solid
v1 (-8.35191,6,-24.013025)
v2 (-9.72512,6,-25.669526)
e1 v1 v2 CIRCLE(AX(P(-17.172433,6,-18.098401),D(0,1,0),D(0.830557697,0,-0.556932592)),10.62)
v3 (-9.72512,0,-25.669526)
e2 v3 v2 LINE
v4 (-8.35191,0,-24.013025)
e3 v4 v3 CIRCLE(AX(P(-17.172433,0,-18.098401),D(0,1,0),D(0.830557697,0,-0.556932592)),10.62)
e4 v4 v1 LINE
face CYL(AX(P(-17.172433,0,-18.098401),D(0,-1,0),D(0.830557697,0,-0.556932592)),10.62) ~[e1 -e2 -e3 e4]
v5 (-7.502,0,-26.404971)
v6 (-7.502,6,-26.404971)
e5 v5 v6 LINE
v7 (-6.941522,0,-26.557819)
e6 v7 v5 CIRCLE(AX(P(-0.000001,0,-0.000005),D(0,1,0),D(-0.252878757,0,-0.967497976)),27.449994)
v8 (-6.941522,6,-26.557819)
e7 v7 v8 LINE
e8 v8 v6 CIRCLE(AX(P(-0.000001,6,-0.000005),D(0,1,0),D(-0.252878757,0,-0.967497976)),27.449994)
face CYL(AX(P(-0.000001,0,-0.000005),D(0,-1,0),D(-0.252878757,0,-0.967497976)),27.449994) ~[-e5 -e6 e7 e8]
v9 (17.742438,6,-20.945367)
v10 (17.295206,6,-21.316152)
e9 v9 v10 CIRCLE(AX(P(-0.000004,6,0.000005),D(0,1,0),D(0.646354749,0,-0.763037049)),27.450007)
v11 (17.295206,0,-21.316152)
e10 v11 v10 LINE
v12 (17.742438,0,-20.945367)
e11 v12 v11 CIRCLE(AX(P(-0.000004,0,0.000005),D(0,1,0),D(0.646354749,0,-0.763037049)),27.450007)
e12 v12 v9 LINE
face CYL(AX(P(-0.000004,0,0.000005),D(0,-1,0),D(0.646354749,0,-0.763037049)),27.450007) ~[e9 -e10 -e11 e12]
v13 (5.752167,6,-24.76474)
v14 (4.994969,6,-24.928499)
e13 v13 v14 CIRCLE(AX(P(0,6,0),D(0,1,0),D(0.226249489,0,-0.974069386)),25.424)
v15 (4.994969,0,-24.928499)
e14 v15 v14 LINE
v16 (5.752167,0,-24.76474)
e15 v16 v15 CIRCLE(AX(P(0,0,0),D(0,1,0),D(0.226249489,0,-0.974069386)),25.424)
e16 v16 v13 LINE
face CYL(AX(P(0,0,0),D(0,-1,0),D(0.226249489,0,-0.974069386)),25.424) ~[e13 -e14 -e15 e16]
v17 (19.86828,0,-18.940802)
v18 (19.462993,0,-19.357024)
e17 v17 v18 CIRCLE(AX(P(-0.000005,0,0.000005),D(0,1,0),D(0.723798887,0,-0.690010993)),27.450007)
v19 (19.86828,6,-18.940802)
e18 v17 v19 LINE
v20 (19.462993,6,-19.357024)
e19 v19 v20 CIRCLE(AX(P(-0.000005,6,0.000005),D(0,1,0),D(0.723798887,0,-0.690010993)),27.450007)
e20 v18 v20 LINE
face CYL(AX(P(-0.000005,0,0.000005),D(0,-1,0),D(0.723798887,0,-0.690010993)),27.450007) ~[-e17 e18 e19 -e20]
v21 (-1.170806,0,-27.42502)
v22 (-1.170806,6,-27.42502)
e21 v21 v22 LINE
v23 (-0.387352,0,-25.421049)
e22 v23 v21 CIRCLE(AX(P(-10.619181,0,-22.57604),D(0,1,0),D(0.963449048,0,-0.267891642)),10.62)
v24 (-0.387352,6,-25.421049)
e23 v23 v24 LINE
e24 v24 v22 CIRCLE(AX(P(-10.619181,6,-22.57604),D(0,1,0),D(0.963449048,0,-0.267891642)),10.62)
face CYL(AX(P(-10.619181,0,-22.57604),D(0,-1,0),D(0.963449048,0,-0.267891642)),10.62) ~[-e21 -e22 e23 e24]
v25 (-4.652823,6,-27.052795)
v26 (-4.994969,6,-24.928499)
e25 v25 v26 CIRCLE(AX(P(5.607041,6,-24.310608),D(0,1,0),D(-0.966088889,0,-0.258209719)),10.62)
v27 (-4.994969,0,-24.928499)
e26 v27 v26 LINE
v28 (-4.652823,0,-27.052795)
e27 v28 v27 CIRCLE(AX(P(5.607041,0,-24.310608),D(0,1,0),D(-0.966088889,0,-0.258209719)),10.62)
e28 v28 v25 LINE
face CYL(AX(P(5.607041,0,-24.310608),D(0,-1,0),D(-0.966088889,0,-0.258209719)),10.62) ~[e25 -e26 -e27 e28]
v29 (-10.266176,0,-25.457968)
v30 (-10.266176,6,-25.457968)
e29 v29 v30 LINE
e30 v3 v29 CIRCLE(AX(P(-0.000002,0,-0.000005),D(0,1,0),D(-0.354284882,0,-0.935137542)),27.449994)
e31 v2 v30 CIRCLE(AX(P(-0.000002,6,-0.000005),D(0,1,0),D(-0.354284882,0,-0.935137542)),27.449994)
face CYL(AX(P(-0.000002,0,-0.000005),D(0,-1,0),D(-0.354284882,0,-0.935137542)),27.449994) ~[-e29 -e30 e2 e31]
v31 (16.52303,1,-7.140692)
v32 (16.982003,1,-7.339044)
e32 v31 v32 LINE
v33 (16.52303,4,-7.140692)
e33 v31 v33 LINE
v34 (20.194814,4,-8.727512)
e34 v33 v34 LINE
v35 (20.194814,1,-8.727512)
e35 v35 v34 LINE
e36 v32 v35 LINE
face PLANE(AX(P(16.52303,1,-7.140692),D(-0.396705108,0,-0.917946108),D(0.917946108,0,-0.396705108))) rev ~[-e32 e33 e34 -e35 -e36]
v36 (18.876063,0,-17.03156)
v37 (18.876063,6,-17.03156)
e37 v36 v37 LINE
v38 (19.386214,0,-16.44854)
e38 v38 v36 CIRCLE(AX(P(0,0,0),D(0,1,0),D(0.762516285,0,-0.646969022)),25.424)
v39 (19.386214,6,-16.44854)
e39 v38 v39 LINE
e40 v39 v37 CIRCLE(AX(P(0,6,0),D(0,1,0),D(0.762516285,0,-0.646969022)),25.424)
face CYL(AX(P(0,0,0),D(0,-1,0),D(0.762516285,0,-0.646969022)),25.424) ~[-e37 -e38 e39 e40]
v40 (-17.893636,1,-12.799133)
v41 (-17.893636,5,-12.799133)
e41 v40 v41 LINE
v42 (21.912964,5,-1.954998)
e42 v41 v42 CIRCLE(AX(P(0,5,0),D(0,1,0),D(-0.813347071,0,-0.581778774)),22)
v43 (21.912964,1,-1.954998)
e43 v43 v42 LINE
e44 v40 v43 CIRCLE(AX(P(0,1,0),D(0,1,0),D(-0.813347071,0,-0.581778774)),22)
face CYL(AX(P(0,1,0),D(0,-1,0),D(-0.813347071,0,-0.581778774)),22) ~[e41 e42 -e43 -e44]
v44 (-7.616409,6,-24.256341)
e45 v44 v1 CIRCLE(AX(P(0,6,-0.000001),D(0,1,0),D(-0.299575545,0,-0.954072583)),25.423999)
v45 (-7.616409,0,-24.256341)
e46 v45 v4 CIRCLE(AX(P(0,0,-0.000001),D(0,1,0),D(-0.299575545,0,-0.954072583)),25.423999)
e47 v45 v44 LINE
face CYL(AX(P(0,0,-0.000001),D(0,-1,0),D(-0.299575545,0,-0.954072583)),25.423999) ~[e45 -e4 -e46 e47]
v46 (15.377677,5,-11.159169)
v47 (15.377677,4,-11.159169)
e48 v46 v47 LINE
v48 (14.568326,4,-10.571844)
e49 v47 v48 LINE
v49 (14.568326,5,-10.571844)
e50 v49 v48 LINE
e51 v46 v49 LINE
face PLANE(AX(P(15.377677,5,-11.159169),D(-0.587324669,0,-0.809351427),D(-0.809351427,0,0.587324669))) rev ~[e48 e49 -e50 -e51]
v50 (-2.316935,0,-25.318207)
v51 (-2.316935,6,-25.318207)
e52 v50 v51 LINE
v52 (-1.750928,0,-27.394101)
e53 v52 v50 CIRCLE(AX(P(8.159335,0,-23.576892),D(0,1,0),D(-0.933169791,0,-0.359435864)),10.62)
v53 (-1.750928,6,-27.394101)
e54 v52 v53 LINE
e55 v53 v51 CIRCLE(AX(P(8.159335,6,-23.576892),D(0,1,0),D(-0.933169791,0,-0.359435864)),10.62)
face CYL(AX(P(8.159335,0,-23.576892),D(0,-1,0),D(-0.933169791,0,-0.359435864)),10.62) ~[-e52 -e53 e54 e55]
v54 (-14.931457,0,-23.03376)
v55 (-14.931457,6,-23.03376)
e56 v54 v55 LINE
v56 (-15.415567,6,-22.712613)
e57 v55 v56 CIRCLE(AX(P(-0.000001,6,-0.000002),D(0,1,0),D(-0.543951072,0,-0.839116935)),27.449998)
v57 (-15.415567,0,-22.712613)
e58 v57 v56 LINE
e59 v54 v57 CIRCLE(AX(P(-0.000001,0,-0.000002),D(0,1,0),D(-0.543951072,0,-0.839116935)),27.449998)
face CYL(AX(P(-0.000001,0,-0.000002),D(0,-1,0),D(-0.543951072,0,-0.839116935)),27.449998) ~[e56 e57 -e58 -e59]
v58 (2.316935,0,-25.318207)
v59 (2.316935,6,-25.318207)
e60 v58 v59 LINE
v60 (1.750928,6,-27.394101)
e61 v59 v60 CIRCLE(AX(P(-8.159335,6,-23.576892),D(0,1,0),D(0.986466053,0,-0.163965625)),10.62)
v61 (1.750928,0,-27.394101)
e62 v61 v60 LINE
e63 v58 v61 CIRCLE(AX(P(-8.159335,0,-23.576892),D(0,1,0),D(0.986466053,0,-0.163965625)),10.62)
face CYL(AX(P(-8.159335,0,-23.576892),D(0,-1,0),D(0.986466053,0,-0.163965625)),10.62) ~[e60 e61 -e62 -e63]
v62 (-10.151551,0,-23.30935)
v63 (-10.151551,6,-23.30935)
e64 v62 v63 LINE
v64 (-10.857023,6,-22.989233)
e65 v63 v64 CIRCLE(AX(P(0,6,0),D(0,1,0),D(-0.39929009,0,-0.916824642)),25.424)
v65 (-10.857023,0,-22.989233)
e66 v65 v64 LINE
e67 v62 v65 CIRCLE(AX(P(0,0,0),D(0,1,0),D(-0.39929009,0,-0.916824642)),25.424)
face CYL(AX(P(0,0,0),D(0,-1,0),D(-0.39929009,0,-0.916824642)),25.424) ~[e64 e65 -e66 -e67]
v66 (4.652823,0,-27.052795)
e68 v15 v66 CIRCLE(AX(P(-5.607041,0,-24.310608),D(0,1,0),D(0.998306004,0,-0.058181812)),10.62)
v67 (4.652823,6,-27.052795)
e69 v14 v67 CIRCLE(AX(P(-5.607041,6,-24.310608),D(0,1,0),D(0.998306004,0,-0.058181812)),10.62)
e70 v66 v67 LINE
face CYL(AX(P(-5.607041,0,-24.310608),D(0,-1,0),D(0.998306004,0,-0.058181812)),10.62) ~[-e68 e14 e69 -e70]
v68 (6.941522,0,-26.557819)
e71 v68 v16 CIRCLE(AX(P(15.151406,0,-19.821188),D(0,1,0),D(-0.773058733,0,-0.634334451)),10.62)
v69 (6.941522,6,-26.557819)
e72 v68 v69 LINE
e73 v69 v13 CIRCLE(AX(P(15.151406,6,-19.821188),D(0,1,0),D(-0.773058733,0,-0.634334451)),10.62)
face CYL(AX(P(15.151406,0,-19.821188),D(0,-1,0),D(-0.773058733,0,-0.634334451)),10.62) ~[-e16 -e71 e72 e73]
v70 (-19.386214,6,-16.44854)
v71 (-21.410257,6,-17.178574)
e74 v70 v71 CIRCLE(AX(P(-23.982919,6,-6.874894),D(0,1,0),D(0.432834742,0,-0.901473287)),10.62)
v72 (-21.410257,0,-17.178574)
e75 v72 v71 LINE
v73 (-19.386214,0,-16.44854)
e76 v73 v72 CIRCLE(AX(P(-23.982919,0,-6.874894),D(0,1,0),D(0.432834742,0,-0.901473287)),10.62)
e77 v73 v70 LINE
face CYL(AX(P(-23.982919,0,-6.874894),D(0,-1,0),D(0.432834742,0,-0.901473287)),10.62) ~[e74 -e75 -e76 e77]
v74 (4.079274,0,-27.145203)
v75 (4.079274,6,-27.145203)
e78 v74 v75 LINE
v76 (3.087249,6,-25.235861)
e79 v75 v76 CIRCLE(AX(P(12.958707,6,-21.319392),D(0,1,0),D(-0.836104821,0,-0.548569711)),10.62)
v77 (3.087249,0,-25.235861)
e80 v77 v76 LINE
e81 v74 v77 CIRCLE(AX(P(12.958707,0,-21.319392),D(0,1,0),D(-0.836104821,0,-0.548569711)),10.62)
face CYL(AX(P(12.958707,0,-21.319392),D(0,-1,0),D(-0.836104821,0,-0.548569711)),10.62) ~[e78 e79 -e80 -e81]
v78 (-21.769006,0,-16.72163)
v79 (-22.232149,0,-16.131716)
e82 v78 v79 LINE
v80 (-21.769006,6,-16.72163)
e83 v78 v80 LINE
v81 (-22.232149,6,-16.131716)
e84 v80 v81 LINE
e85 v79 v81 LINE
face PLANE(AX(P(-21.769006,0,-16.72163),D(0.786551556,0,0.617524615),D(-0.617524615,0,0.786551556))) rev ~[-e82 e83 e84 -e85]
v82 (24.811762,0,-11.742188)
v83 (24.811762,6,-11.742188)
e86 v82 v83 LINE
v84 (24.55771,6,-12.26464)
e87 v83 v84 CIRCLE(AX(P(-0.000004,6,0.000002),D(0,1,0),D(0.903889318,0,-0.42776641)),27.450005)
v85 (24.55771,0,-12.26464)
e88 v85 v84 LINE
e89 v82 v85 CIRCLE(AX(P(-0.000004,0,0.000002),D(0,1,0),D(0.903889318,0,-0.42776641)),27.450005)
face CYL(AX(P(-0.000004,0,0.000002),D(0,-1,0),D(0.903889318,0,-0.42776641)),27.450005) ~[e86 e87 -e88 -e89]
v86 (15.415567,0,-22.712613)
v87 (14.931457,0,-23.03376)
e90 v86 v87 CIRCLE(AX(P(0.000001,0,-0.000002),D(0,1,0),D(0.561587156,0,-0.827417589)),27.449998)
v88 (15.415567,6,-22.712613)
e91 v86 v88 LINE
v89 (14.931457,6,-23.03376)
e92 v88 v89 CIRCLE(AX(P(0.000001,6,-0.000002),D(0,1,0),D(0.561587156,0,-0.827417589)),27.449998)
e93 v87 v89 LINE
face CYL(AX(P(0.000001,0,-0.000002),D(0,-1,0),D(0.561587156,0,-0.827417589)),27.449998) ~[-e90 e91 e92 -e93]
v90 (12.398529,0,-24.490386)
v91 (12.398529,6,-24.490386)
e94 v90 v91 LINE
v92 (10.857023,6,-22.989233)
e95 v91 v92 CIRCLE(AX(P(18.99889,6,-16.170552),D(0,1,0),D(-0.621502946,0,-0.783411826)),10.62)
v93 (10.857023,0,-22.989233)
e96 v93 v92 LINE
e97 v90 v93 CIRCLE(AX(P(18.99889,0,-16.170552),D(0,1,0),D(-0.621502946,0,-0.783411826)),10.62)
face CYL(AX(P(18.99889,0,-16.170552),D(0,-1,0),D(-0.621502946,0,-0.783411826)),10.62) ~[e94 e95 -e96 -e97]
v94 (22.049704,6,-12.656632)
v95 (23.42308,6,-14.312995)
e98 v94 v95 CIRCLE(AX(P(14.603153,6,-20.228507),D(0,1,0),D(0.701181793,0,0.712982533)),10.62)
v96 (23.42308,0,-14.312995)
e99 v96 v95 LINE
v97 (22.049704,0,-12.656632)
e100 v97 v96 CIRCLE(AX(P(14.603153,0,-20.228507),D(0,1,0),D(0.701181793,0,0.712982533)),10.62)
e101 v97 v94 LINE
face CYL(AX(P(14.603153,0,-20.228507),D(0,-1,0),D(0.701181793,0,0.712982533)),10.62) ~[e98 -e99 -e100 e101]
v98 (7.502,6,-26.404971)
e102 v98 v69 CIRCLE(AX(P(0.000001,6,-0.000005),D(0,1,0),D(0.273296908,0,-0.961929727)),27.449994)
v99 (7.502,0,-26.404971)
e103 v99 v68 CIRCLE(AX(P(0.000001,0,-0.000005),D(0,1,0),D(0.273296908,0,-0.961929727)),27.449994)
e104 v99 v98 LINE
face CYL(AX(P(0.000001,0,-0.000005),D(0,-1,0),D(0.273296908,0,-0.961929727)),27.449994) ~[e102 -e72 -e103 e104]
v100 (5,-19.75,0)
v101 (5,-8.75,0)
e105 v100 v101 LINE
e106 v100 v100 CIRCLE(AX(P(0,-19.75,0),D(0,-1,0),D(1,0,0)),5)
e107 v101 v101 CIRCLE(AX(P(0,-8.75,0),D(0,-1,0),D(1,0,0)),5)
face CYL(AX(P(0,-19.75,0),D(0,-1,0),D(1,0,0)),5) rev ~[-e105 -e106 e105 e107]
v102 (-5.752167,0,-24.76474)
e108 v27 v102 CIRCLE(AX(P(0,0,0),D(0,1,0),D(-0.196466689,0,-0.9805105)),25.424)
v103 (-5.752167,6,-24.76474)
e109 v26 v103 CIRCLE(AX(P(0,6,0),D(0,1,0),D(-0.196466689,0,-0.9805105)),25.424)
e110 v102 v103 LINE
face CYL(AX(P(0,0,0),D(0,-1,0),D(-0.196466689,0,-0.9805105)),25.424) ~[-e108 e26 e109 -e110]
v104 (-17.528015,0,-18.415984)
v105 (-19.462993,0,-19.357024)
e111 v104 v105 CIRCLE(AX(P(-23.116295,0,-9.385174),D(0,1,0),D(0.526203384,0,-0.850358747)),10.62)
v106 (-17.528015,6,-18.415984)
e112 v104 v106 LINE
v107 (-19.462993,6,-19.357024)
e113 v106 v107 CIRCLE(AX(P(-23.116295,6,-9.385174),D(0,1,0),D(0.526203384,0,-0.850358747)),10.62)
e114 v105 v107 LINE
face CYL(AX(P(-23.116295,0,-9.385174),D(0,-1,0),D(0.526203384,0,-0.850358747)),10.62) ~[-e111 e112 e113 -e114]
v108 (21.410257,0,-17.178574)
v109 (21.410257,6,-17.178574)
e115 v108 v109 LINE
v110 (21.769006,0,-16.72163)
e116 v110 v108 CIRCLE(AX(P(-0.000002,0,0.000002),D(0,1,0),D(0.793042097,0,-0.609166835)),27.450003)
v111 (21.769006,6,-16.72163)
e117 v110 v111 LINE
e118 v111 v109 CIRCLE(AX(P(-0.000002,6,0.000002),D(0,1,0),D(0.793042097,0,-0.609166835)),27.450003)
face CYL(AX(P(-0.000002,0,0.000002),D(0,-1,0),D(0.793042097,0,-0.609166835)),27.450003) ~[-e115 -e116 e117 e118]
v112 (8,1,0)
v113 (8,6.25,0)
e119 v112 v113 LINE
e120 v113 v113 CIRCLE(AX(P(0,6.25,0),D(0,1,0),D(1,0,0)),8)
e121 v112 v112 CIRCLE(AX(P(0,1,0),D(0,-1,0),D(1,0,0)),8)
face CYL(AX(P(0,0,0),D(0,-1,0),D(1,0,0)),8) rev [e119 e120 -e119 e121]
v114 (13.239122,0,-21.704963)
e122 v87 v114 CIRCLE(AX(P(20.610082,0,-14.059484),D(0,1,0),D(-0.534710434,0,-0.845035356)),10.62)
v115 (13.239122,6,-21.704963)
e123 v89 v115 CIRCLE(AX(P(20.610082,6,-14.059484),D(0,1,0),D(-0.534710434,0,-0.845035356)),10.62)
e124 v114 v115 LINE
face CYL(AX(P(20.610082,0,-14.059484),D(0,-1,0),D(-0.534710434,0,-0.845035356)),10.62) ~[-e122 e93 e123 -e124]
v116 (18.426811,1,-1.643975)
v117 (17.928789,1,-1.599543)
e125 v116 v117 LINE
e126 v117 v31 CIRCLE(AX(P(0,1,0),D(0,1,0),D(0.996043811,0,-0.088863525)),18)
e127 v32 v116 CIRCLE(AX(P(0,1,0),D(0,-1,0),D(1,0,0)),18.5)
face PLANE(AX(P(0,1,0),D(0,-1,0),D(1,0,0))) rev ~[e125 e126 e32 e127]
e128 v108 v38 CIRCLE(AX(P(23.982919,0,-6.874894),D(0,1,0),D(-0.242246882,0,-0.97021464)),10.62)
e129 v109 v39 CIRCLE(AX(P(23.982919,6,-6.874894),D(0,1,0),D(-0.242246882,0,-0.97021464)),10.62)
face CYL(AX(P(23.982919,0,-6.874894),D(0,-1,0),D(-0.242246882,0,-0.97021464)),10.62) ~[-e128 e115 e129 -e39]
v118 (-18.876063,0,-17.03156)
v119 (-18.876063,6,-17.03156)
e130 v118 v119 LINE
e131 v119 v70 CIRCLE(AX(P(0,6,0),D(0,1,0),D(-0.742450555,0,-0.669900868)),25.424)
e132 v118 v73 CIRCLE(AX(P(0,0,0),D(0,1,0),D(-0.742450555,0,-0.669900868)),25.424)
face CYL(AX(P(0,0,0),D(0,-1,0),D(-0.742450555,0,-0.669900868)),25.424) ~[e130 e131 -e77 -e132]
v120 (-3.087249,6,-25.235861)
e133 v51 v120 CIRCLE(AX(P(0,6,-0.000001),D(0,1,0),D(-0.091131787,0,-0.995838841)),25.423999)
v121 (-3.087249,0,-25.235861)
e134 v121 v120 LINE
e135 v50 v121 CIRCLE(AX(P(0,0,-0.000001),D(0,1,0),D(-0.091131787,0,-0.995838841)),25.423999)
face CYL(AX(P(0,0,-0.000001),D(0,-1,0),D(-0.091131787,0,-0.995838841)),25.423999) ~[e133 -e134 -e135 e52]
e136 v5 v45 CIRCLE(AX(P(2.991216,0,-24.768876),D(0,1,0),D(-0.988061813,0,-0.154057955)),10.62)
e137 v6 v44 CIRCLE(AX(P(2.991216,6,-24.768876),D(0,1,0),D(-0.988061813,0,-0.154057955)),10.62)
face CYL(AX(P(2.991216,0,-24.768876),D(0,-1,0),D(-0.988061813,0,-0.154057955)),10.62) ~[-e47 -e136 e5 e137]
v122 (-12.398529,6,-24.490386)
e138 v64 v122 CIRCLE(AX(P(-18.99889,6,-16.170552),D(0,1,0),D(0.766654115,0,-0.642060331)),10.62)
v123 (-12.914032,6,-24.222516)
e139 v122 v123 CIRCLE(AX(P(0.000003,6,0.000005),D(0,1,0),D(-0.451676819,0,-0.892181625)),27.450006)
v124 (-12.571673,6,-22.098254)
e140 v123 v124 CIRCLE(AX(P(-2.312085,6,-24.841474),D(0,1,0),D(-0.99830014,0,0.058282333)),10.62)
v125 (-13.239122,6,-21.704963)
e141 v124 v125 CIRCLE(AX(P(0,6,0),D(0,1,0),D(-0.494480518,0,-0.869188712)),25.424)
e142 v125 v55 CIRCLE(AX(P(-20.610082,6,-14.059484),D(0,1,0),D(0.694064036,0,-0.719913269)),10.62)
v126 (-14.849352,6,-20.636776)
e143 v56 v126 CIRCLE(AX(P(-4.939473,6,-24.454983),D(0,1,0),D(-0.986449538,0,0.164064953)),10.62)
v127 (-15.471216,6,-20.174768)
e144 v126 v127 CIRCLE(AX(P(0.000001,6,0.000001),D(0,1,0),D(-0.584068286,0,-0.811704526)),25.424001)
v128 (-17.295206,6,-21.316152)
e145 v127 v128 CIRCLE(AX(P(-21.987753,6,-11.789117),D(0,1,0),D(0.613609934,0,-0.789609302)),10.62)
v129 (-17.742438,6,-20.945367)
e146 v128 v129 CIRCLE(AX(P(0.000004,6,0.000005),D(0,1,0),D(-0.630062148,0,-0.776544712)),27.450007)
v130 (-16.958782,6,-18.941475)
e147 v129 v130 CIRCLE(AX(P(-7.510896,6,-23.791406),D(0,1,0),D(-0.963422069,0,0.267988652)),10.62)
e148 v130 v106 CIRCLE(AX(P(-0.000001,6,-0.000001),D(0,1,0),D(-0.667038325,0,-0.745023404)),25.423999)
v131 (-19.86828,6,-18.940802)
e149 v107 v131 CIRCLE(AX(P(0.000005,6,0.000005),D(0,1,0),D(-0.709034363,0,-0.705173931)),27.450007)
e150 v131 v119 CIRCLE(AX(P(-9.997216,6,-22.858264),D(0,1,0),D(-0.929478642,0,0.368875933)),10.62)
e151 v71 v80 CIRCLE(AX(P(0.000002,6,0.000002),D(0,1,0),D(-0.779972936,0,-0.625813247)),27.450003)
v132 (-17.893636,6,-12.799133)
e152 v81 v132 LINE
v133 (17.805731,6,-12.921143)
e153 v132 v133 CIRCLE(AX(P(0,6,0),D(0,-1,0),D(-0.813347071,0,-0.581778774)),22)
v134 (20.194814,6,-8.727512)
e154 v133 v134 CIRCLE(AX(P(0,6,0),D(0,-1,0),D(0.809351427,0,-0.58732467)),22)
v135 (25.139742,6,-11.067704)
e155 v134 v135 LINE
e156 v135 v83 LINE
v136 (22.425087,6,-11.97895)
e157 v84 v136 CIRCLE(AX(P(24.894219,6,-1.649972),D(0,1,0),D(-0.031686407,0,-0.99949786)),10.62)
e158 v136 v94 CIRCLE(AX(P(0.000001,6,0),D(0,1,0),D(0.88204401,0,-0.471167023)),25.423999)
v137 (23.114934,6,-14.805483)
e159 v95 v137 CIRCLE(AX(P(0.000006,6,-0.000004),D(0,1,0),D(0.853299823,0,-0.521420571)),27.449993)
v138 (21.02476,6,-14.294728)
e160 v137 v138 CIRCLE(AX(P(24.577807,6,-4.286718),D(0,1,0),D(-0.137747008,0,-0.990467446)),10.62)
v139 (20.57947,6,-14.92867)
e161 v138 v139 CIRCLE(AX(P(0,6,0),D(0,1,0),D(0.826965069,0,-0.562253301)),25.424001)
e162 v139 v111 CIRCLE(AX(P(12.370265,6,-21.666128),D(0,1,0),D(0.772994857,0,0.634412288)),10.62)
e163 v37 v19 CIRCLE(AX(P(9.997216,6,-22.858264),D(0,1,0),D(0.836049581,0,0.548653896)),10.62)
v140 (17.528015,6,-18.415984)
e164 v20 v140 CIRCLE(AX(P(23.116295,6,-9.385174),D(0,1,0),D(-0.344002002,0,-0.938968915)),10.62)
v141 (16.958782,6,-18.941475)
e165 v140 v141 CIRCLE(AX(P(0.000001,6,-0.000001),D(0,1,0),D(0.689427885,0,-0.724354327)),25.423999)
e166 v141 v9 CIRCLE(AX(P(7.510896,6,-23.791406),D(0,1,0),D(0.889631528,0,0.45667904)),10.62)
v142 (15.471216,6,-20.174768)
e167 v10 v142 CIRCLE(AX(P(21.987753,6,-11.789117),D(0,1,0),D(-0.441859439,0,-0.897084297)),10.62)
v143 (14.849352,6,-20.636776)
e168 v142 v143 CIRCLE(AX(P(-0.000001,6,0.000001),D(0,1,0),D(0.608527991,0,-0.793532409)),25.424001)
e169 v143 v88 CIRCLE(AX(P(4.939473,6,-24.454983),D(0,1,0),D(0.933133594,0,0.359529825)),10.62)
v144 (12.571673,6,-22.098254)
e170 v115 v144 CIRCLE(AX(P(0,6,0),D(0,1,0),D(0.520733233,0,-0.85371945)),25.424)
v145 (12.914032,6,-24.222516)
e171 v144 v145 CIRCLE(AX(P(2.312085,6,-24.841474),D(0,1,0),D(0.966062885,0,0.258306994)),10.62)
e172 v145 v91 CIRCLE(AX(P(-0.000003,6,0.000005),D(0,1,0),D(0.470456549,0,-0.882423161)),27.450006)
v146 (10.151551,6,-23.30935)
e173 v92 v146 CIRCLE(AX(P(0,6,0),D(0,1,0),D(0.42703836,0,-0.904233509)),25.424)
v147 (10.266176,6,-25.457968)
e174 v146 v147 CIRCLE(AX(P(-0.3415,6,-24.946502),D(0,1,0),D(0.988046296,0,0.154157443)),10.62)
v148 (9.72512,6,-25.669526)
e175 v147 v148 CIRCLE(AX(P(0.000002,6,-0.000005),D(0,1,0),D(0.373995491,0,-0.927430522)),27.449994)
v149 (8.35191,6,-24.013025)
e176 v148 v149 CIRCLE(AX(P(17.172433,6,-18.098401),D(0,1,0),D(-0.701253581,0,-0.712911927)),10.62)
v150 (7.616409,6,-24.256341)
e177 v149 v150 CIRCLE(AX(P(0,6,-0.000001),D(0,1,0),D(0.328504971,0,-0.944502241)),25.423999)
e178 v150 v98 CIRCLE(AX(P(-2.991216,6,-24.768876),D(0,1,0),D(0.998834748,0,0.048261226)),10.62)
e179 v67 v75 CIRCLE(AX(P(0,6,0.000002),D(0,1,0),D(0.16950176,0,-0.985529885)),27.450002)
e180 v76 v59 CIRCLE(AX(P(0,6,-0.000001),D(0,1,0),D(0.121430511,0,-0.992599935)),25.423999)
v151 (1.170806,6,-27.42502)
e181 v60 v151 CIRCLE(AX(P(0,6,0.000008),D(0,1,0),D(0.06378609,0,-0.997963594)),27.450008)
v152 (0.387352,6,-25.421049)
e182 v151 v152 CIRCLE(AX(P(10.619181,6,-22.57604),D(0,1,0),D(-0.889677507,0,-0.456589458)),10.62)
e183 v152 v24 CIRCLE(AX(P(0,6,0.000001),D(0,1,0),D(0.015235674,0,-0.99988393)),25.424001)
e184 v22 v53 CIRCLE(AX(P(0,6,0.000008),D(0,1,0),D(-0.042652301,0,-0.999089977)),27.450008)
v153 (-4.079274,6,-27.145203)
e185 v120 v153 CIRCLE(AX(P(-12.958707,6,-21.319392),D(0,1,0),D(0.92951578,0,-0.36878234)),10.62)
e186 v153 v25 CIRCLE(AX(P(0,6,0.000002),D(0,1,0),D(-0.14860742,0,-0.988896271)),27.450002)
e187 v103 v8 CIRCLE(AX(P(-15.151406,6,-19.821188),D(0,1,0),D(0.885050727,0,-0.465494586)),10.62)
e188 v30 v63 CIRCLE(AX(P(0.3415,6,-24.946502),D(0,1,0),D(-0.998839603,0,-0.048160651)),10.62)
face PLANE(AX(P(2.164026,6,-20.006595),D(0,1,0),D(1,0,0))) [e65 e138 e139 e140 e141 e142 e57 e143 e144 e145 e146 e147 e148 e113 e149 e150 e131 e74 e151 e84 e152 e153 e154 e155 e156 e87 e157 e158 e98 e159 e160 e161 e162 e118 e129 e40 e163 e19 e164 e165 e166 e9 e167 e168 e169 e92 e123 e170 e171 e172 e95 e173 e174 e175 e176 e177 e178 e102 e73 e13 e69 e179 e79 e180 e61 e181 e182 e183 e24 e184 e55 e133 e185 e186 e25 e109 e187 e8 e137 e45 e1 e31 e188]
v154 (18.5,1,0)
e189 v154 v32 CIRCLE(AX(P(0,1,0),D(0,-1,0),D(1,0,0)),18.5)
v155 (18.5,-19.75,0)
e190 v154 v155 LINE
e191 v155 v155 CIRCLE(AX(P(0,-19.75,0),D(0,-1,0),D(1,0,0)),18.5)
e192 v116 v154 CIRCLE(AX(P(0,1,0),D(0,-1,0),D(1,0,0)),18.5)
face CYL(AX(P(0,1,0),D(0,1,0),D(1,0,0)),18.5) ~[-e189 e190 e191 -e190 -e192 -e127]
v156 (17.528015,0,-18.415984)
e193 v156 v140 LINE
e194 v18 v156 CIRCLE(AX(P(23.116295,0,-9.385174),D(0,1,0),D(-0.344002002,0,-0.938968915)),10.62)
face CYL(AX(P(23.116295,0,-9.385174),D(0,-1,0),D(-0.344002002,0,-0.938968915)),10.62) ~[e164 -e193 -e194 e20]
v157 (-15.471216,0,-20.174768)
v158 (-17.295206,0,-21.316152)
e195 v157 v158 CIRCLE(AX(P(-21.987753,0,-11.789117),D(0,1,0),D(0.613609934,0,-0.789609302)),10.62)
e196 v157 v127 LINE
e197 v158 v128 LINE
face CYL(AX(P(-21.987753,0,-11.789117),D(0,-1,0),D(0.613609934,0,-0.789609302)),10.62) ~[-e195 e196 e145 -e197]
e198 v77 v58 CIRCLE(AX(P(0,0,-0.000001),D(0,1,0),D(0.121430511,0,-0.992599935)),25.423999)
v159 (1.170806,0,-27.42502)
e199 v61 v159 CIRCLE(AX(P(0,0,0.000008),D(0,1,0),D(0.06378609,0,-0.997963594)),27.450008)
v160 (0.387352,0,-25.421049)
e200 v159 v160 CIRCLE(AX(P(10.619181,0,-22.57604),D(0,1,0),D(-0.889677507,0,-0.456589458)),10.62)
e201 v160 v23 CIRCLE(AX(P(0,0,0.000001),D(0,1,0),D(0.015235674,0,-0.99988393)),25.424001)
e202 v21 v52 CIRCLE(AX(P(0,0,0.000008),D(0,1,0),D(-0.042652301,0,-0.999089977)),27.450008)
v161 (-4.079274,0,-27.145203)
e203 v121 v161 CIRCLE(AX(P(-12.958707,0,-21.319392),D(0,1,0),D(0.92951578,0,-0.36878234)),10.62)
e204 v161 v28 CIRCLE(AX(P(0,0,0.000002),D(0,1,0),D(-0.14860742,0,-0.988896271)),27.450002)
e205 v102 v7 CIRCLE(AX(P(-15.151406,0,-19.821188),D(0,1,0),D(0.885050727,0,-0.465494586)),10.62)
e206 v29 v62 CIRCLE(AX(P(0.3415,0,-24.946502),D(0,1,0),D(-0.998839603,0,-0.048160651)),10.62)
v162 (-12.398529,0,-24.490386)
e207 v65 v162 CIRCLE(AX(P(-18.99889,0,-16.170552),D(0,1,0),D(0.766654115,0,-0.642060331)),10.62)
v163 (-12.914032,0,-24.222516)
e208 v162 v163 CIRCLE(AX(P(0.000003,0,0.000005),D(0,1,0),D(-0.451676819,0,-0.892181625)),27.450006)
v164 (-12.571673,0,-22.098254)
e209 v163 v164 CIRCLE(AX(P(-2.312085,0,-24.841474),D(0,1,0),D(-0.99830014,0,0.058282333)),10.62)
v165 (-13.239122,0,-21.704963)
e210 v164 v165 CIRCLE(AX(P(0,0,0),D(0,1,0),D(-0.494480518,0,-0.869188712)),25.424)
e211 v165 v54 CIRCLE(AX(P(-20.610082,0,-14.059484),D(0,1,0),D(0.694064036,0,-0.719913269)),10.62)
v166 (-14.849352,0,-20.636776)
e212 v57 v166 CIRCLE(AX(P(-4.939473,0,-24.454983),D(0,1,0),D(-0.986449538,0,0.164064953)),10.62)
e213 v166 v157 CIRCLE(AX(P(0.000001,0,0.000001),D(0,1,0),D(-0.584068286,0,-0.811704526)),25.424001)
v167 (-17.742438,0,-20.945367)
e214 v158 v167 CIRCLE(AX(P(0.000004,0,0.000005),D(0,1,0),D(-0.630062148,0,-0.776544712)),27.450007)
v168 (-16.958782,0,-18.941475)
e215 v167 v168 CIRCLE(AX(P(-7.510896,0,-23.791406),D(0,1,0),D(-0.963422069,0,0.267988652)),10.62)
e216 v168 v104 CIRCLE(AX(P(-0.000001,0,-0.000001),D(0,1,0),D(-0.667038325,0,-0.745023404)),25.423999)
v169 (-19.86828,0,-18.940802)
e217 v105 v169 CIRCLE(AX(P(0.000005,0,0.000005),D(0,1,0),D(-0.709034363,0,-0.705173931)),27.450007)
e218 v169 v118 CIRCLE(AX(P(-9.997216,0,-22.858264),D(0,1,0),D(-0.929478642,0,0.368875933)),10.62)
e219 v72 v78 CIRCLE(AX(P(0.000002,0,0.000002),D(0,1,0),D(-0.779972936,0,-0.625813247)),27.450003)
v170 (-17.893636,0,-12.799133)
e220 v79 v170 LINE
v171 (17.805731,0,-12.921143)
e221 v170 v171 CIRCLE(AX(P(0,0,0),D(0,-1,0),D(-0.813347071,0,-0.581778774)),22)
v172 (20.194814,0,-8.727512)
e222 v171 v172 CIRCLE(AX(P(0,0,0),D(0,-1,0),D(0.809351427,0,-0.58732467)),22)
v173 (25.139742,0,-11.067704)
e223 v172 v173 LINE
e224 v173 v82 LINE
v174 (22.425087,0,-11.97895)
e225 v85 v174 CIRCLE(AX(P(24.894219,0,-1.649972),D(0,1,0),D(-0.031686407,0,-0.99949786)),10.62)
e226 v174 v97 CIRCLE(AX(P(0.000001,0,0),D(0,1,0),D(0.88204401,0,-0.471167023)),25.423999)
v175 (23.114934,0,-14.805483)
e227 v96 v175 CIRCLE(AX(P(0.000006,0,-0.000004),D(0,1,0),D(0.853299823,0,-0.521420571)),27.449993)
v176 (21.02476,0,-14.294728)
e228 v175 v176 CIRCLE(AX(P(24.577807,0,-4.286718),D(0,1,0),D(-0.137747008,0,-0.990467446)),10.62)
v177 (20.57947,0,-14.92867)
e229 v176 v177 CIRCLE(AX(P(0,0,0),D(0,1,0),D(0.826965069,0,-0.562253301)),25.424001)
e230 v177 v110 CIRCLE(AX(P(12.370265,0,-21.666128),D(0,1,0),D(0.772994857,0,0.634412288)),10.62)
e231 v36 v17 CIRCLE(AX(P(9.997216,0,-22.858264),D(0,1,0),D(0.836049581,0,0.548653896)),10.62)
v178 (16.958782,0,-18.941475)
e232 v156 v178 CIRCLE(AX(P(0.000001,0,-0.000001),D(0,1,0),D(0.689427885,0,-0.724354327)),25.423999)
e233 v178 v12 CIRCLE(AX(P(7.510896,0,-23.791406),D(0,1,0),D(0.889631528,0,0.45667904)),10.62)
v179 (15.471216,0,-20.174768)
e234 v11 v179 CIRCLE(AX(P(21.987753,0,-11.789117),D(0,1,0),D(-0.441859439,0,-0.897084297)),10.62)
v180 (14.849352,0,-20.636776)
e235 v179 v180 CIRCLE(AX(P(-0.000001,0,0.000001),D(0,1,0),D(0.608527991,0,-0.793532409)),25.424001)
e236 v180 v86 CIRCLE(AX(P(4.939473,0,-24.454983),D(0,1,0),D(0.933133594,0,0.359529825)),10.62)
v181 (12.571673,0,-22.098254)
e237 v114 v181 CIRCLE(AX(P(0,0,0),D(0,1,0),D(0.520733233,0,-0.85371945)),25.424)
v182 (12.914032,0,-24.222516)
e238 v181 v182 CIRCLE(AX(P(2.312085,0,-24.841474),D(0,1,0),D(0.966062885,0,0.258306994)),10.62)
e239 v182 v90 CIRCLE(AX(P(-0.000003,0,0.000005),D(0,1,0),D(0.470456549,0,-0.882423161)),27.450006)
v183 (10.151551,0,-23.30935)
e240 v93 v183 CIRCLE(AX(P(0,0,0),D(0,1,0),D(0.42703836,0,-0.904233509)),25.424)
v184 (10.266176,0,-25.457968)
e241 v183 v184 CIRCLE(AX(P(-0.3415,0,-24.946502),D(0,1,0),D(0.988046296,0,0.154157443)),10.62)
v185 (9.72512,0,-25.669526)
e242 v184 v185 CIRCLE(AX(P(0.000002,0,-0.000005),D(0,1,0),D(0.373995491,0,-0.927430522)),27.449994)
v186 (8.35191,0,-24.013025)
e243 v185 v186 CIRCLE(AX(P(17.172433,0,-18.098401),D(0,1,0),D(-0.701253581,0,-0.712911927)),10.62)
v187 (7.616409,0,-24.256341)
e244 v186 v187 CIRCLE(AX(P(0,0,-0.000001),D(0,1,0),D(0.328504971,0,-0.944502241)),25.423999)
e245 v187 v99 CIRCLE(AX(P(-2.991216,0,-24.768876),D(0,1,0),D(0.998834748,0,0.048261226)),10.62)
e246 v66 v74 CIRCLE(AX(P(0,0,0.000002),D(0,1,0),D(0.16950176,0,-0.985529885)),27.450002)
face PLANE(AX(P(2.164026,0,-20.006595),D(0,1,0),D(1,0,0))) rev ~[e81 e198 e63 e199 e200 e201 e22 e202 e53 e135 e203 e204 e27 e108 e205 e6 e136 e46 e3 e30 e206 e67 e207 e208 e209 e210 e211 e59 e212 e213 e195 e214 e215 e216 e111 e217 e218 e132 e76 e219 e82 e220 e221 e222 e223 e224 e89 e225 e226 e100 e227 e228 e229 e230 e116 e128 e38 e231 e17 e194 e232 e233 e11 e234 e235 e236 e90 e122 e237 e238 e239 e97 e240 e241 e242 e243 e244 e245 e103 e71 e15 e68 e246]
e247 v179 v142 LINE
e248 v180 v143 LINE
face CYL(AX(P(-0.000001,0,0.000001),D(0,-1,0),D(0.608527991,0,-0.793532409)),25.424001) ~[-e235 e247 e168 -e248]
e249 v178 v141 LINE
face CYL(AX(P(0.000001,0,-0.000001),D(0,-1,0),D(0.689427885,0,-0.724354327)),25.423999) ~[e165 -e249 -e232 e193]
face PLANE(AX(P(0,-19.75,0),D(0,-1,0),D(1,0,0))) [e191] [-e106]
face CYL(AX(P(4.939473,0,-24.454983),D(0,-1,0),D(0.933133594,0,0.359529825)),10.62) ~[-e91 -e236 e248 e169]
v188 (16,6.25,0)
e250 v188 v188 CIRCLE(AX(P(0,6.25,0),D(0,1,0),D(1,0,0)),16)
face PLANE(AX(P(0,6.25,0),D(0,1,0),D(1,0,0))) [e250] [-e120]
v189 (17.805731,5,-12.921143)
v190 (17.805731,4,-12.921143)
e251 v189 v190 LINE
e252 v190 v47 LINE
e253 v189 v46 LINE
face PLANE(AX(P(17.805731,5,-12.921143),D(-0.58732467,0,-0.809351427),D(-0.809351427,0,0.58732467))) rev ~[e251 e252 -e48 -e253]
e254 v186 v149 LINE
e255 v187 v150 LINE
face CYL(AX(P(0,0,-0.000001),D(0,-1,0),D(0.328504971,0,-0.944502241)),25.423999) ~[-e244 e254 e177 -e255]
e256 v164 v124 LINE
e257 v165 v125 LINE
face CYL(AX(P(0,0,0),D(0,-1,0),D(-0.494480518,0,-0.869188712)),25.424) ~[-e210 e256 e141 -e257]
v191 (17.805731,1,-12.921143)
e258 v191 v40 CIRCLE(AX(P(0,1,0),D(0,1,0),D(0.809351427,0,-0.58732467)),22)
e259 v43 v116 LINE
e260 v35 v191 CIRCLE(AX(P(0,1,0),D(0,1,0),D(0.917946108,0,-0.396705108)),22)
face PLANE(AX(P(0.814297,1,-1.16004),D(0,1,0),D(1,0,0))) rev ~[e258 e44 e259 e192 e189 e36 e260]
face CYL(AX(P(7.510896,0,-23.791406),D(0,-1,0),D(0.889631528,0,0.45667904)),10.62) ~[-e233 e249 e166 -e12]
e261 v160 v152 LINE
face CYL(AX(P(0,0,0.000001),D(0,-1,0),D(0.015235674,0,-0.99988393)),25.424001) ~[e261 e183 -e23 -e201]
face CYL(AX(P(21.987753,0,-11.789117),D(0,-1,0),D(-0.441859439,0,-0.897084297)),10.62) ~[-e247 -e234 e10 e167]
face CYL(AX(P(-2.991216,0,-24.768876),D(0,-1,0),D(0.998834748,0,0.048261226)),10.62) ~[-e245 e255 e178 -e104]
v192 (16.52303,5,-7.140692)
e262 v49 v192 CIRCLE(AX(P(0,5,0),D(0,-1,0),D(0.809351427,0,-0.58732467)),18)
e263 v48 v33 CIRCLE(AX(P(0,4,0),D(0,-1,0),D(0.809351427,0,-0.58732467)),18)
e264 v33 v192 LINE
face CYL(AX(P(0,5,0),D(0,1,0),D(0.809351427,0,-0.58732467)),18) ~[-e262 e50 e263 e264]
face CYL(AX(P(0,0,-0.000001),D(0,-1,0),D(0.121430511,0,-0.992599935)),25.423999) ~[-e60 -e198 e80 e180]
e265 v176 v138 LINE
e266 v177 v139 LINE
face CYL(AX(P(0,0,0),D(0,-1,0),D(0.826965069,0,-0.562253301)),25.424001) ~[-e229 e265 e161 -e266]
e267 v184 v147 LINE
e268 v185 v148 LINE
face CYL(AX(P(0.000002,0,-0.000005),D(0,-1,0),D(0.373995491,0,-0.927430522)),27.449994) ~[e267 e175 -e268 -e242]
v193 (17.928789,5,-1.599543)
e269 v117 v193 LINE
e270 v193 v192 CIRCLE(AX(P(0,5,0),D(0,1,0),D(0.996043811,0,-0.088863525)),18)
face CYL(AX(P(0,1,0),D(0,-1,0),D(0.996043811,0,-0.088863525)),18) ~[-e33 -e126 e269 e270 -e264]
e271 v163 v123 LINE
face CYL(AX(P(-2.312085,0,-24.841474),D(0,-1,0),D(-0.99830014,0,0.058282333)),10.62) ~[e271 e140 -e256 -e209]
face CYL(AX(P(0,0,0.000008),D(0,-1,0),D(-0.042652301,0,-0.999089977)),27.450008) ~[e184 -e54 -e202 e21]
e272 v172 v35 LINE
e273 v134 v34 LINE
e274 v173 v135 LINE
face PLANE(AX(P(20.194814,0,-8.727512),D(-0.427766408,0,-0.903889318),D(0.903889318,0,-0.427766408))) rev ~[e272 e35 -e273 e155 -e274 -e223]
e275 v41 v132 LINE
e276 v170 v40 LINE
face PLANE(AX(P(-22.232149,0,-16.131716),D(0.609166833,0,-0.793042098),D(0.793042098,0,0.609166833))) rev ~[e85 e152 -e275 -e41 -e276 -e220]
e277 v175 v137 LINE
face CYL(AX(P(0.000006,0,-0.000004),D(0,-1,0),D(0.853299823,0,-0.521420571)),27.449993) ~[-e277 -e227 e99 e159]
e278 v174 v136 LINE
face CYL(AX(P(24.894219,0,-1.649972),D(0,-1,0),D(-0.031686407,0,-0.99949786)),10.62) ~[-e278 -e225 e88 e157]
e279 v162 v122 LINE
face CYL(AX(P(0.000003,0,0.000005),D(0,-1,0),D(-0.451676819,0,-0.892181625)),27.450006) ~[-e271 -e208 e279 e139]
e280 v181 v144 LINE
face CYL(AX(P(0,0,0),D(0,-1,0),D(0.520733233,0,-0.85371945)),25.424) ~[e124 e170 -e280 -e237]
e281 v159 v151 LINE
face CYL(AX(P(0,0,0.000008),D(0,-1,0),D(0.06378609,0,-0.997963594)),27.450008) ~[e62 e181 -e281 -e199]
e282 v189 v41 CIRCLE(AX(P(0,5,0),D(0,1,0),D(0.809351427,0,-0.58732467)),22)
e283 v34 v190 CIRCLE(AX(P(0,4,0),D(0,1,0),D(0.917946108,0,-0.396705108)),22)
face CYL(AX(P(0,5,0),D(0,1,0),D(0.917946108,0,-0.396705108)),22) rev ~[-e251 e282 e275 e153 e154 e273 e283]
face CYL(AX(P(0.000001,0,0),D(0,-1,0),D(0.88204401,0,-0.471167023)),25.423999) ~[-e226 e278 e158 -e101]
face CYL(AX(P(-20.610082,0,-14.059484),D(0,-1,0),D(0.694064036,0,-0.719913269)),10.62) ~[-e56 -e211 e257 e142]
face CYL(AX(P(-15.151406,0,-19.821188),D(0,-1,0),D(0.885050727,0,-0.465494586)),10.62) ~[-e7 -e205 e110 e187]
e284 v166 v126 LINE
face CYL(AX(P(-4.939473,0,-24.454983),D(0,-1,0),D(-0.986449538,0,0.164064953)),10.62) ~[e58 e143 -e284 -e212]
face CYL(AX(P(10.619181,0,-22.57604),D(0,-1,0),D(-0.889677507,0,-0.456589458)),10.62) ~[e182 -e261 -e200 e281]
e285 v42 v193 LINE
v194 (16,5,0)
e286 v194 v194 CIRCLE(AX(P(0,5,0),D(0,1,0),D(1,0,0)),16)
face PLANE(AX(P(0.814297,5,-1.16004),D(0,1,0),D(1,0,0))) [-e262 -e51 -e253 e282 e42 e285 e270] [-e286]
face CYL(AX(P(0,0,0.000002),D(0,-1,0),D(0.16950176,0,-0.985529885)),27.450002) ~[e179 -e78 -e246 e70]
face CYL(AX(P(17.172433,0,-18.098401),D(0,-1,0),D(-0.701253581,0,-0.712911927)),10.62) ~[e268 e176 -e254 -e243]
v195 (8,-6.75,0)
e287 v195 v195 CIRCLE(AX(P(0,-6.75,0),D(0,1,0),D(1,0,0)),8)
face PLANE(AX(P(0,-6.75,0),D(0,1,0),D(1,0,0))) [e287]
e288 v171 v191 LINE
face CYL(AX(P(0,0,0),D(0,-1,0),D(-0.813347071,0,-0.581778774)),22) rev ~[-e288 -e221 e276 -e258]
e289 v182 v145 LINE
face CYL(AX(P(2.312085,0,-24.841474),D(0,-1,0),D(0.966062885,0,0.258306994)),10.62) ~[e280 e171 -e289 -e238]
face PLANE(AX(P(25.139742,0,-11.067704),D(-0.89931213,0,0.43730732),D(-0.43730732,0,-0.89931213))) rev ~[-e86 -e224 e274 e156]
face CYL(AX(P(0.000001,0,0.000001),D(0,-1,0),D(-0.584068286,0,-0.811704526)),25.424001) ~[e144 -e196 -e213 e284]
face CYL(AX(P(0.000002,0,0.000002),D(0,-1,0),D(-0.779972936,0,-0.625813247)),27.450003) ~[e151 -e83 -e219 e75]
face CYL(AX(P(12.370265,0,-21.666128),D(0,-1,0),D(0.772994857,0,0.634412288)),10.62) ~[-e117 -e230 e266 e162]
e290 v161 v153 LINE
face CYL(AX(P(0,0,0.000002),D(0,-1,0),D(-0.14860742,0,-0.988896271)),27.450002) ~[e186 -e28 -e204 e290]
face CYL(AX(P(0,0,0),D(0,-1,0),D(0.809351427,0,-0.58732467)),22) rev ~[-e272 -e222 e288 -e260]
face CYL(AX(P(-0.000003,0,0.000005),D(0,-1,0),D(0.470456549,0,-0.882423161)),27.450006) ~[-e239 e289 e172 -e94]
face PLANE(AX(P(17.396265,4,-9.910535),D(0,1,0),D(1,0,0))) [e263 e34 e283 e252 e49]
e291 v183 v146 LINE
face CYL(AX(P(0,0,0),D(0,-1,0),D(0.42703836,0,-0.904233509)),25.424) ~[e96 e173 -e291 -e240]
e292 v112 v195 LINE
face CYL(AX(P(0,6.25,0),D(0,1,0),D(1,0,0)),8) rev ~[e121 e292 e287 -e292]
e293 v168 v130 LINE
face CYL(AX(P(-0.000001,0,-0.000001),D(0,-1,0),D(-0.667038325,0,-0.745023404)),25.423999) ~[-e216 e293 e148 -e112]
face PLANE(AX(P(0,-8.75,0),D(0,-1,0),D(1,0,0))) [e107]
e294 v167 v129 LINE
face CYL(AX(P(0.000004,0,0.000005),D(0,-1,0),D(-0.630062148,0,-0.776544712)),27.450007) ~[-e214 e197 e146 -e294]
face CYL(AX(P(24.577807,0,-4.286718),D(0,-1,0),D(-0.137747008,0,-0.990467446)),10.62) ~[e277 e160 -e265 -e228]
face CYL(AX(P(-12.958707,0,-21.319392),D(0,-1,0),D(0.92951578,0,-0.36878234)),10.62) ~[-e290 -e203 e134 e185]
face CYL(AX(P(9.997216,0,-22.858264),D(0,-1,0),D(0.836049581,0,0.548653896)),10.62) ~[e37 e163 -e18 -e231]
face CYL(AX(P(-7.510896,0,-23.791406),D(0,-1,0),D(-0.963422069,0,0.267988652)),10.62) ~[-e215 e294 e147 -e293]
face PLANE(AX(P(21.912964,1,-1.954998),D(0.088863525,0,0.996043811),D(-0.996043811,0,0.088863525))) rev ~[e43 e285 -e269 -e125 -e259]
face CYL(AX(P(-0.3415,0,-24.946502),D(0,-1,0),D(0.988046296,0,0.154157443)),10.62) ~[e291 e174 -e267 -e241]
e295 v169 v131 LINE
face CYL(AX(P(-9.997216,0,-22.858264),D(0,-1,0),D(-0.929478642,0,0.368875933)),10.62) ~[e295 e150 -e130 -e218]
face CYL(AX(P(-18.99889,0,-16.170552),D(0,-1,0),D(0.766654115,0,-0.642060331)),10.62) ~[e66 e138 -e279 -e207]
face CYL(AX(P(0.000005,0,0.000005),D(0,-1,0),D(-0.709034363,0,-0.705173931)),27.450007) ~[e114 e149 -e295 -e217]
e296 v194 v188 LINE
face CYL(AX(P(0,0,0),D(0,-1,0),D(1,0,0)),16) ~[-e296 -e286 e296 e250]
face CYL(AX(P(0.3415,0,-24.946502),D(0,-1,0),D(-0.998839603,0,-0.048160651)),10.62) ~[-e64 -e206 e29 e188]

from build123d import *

# Parameters (mm, degrees)
BOSS_EXTRUDE1_DEPTH = 6
BOSS_EXTRUDE2_START = 1
SKETCH1_3_R         = 16
BOSS_EXTRUDE2_DEPTH = 4
CUT_EXTRUDE2_START  = 5
CUT_EXTRUDE2_DEPTH  = 1
SKETCH1_5_R         = 16
SKETCH1_5_R_2       = 8
BOSS_EXTRUDE3_DEPTH = 6.25
SKETCH2_R           = 18.5
BOSS_EXTRUDE4_DEPTH = 20.75
CUT_EXTRUDE3_START  = 6.25
SKETCH1_6_R         = 8
CUT_EXTRUDE3_DEPTH  = 13
SKETCH3_R           = 5
CUT_EXTRUDE4_DEPTH  = 11


with BuildPart() as part:
    # Sketch1 → Boss-Extrude1 (new body)
    with BuildSketch(Plane(origin=(0, 0, 0), x_dir=(1, 0, 0), z_dir=(0, 1, 0))):
        with BuildLine():
            ThreePointArc((17.805731394, 12.921142733), (19.115621979, 10.890041155), (20.194814379, 8.727512373))
            Line((20.194814379, 8.727512373), (25.139742278, 11.067703815))
            Line((25.139742278, 11.067703815), (24.811761788, 11.742187913))
            ThreePointArc((24.811761788, 11.742187913), (24.686117973, 12.004085947), (24.557709816, 12.264639767))
            ThreePointArc((24.557709816, 12.264639767), (23.484144419, 12.175944584), (22.425086919, 11.978950399))
            ThreePointArc((22.425086919, 11.978950399), (22.239976661, 12.319221327), (22.049703631, 12.656632481))
            ThreePointArc((22.049703631, 12.656632481), (22.778448625, 13.44994215), (23.423080118, 14.312994718))
            ThreePointArc((23.423080118, 14.312994718), (23.270310046, 14.560053928), (23.114934172, 14.805482708))
            ThreePointArc((23.114934172, 14.805482708), (22.056878458, 14.603176993), (21.02475993, 14.294727906))
            ThreePointArc((21.02475993, 14.294727906), (20.804529775, 14.613395117), (20.579470072, 14.928669986))
            ThreePointArc((20.579470072, 14.928669986), (21.21976293, 15.794946243), (21.769005591, 16.721629574))
            ThreePointArc((21.769005591, 16.721629574), (21.590840207, 16.95105068), (21.410257088, 17.178573614))
            ThreePointArc((21.410257088, 17.178573614), (20.379699251, 16.864949571), (19.386214008, 16.448540434))
            ThreePointArc((19.386214008, 16.448540434), (19.133359253, 16.741993301), (18.876062894, 17.031559695))
            ThreePointArc((18.876062894, 17.031559695), (19.420648841, 17.960987283), (19.868279532, 18.940801685))
            ThreePointArc((19.868279532, 18.940801685), (19.666737521, 19.149985255), (19.462993236, 19.357024417))
            ThreePointArc((19.462993236, 19.357024417), (18.471609908, 18.935635532), (17.528014536, 18.415984427))
            ThreePointArc((17.528014536, 18.415984427), (17.245400125, 18.680898012), (16.95878238, 18.941475027))
            ThreePointArc((16.95878238, 18.941475027), (17.401491042, 19.923523161), (17.742437927, 20.945366944))
            ThreePointArc((17.742437927, 20.945366944), (17.519802841, 21.131942845), (17.295205894, 21.316152399))
            ThreePointArc((17.295205894, 21.316152399), (16.354229843, 20.791773177), (15.471215656, 20.174767957))
            ThreePointArc((15.471215656, 20.174767957), (15.162043723, 20.408140683), (14.849352086, 20.636775878))
            ThreePointArc((14.849352086, 20.636775878), (15.185167395, 21.66031756), (15.41556741, 22.712612827))
            ThreePointArc((15.41556741, 22.712612827), (15.174361794, 22.874467079), (14.931456958, 23.033759856))
            ThreePointArc((14.931456958, 23.033759856), (14.05154982, 22.412331723), (13.23912172, 21.704963305))
            ThreePointArc((13.23912172, 21.704963305), (12.906895308, 21.904150965), (12.571672699, 22.098253812))
            ThreePointArc((12.571672699, 22.098253812), (12.796789734, 23.151691906), (12.914032356, 24.222515731))
            ThreePointArc((12.914032356, 24.222515731), (12.656989165, 24.35781446), (12.398528649, 24.49038561))
            ThreePointArc((12.398528649, 24.49038561), (11.589660123, 23.778949595), (10.857023245, 22.989232746))
            ThreePointArc((10.857023245, 22.989232746), (10.505506611, 23.151978465), (10.151551237, 23.309349701))
            ThreePointArc((10.151551237, 23.309349701), (10.263419333, 24.380748332), (10.266176154, 25.457967852))
            ThreePointArc((10.266176154, 25.457967852), (9.996207791, 25.565178071), (9.725120055, 25.66952551))
            ThreePointArc((9.725120055, 25.66952551), (8.996454945, 24.876142467), (8.351910358, 24.013024994))
            ThreePointArc((8.351910358, 24.013024994), (7.985086326, 24.137484798), (7.616408643, 24.256341344))
            ThreePointArc((7.616408643, 24.256341344), (7.613760289, 25.333561137), (7.502000074, 26.404971026))
            ThreePointArc((7.502000074, 26.404971026), (7.222165388, 26.482877999), (6.941521966, 26.557819428))
            ThreePointArc((6.941521966, 26.557819428), (6.301316338, 25.691478704), (5.752166989, 24.764740074))
            ThreePointArc((5.752166989, 24.764740074), (5.374191823, 24.849503783), (4.994969096, 24.928498947))
            ThreePointArc((4.994969096, 24.928498947), (4.877834298, 25.999334571), (4.652823336, 27.052795327))
            ThreePointArc((4.652823336, 27.052795327), (4.366292966, 27.100516337), (4.079273659, 27.145202641))
            ThreePointArc((4.079273659, 27.145202641), (3.5347813, 26.215720222), (3.087249271, 25.235860753))
            ThreePointArc((3.087249271, 25.235860753), (2.702405579, 25.279967961), (2.316934553, 25.318206696))
            ThreePointArc((2.316934553, 25.318206696), (2.086640496, 26.370525157), (1.750928251, 27.394100647))
            ThreePointArc((1.750928251, 27.394100647), (1.460948699, 27.411094996), (1.170805551, 27.425019861))
            ThreePointArc((1.170805551, 27.425019861), (0.728195776, 26.442927155), (0.387351784, 25.421049046))
            ThreePointArc((0.387351784, 25.421049046), (0, 25.424), (-0.387351784, 25.421049046))
            ThreePointArc((-0.387351784, 25.421049046), (-0.728195776, 26.442927155), (-1.170805551, 27.425019861))
            ThreePointArc((-1.170805551, 27.425019861), (-1.460948699, 27.411094996), (-1.750928251, 27.394100647))
            ThreePointArc((-1.750928251, 27.394100647), (-2.086640496, 26.370525157), (-2.316934553, 25.318206696))
            ThreePointArc((-2.316934553, 25.318206696), (-2.702405579, 25.279967961), (-3.087249271, 25.235860753))
            ThreePointArc((-3.087249271, 25.235860753), (-3.5347813, 26.215720222), (-4.079273659, 27.145202641))
            ThreePointArc((-4.079273659, 27.145202641), (-4.366292966, 27.100516337), (-4.652823336, 27.052795327))
            ThreePointArc((-4.652823336, 27.052795327), (-4.877834298, 25.999334571), (-4.994969096, 24.928498947))
            ThreePointArc((-4.994969096, 24.928498947), (-5.374191823, 24.849503783), (-5.752166989, 24.764740074))
            ThreePointArc((-5.752166989, 24.764740074), (-6.301316338, 25.691478704), (-6.941521966, 26.557819428))
            ThreePointArc((-6.941521966, 26.557819428), (-7.222165388, 26.482877999), (-7.502000074, 26.404971026))
            ThreePointArc((-7.502000074, 26.404971026), (-7.613760289, 25.333561137), (-7.616408643, 24.256341344))
            ThreePointArc((-7.616408643, 24.256341344), (-7.985086326, 24.137484798), (-8.351910358, 24.013024994))
            ThreePointArc((-8.351910358, 24.013024994), (-8.996454945, 24.876142467), (-9.725120055, 25.66952551))
            ThreePointArc((-9.725120055, 25.66952551), (-9.996207791, 25.565178071), (-10.266176154, 25.457967852))
            ThreePointArc((-10.266176154, 25.457967852), (-10.263419333, 24.380748332), (-10.151551237, 23.309349701))
            ThreePointArc((-10.151551237, 23.309349701), (-10.505506611, 23.151978465), (-10.857023245, 22.989232746))
            ThreePointArc((-10.857023245, 22.989232746), (-11.589660123, 23.778949595), (-12.398528649, 24.49038561))
            ThreePointArc((-12.398528649, 24.49038561), (-12.656989165, 24.35781446), (-12.914032356, 24.222515731))
            ThreePointArc((-12.914032356, 24.222515731), (-12.796789734, 23.151691906), (-12.571672699, 22.098253812))
            ThreePointArc((-12.571672699, 22.098253812), (-12.906895308, 21.904150965), (-13.23912172, 21.704963305))
            ThreePointArc((-13.23912172, 21.704963305), (-14.05154982, 22.412331723), (-14.931456958, 23.033759856))
            ThreePointArc((-14.931456958, 23.033759856), (-15.174361794, 22.874467079), (-15.41556741, 22.712612827))
            ThreePointArc((-15.41556741, 22.712612827), (-15.185167395, 21.66031756), (-14.849352086, 20.636775878))
            ThreePointArc((-14.849352086, 20.636775878), (-15.162043723, 20.408140683), (-15.471215656, 20.174767957))
            ThreePointArc((-15.471215656, 20.174767957), (-16.354229843, 20.791773177), (-17.295205894, 21.316152399))
            ThreePointArc((-17.295205894, 21.316152399), (-17.519802841, 21.131942845), (-17.742437927, 20.945366944))
            ThreePointArc((-17.742437927, 20.945366944), (-17.401491042, 19.923523161), (-16.95878238, 18.941475027))
            ThreePointArc((-16.95878238, 18.941475027), (-17.245400125, 18.680898012), (-17.528014536, 18.415984427))
            ThreePointArc((-17.528014536, 18.415984427), (-18.471609908, 18.935635532), (-19.462993236, 19.357024417))
            ThreePointArc((-19.462993236, 19.357024417), (-19.666737521, 19.149985255), (-19.868279532, 18.940801685))
            ThreePointArc((-19.868279532, 18.940801685), (-19.420648841, 17.960987283), (-18.876062894, 17.031559695))
            ThreePointArc((-18.876062894, 17.031559695), (-19.133359253, 16.741993301), (-19.386214008, 16.448540434))
            ThreePointArc((-19.386214008, 16.448540434), (-20.379699251, 16.864949571), (-21.410257088, 17.178573614))
            ThreePointArc((-21.410257088, 17.178573614), (-21.590840207, 16.95105068), (-21.769005591, 16.721629574))
            Line((-21.769005591, 16.721629574), (-22.232149052, 16.131715907))
            Line((-22.232149052, 16.131715907), (-17.893635567, 12.799133025))
            ThreePointArc((-17.893635567, 12.799133025), (-0.07518895, 21.999871514), (17.805731394, 12.921142733))
        make_face()
    extrude(amount=BOSS_EXTRUDE1_DEPTH)

    # Sketch1<3> → Boss-Extrude2 (add)
    with BuildSketch(Plane(origin=(0, 0, 0), x_dir=(1, 0, 0), z_dir=(0, 1, 0)).offset(BOSS_EXTRUDE2_START)):
        with BuildLine():
            ThreePointArc((17.928788602, 1.599543458), (17.447292969, 4.426281516), (16.523029946, 7.140691941))
            ThreePointArc((16.523029946, 7.140691941), (15.640054347, 8.910033672), (14.568325686, 10.571844055))
            Line((14.568325686, 10.571844055), (15.377677113, 11.159168724))
            Line((15.377677113, 11.159168724), (17.805731394, 12.921142733))
            ThreePointArc((17.805731394, 12.921142733), (-0.07518895, 21.999871514), (-17.893635567, 12.799133025))
            ThreePointArc((-17.893635567, 12.799133025), (-5.782522672, -21.226455935), (21.912963847, 1.954997559))
            Line((21.912963847, 1.954997559), (17.928788602, 1.599543458))
        make_face()
        Circle(SKETCH1_3_R, mode=Mode.SUBTRACT)
        with BuildLine():
            ThreePointArc((14.568325686, 10.571844055), (15.640054347, 8.910033672), (16.523029946, 7.140691941))
            Line((16.523029946, 7.140691941), (20.194814379, 8.727512373))
            ThreePointArc((20.194814379, 8.727512373), (19.115621979, 10.890041155), (17.805731394, 12.921142733))
            Line((17.805731394, 12.921142733), (15.377677113, 11.159168724))
            Line((15.377677113, 11.159168724), (14.568325686, 10.571844055))
        make_face()
    extrude(amount=BOSS_EXTRUDE2_DEPTH)

    # Sketch1<4> → Cut-Extrude2 (cut)
    with BuildSketch(Plane(origin=(0, 0, 0), x_dir=(1, 0, 0), z_dir=(0, 1, 0)).offset(CUT_EXTRUDE2_START)):
        with BuildLine():
            ThreePointArc((14.568325686, 10.571844055), (15.640054347, 8.910033672), (16.523029946, 7.140691941))
            Line((16.523029946, 7.140691941), (20.194814379, 8.727512373))
            ThreePointArc((20.194814379, 8.727512373), (19.115621979, 10.890041155), (17.805731394, 12.921142733))
            Line((17.805731394, 12.921142733), (15.377677113, 11.159168724))
            Line((15.377677113, 11.159168724), (14.568325686, 10.571844055))
        make_face()
    extrude(amount=-CUT_EXTRUDE2_DEPTH, mode=Mode.SUBTRACT)

    # Sketch1<5> → Boss-Extrude3 (add)
    with BuildSketch(Plane(origin=(0, 0, 0), x_dir=(1, 0, 0), z_dir=(0, 1, 0))):
        Circle(SKETCH1_5_R)
        Circle(SKETCH1_5_R_2, mode=Mode.SUBTRACT)
    extrude(amount=BOSS_EXTRUDE3_DEPTH)

    # Sketch2 → Boss-Extrude4 (add)
    with BuildSketch(Plane.XZ.offset(-1)):
        Circle(SKETCH2_R)
    extrude(amount=BOSS_EXTRUDE4_DEPTH)

    # Sketch1<6> → Cut-Extrude3 (cut)
    with BuildSketch(Plane(origin=(0, 0, 0), x_dir=(1, 0, 0), z_dir=(0, 1, 0)).offset(CUT_EXTRUDE3_START)):
        Circle(SKETCH1_6_R)
    extrude(amount=-CUT_EXTRUDE3_DEPTH, mode=Mode.SUBTRACT)

    # Sketch3 → Cut-Extrude4 (cut)
    with BuildSketch(Plane.XZ.offset(19.75)):
        Circle(SKETCH3_R)
    extrude(amount=-CUT_EXTRUDE4_DEPTH, mode=Mode.SUBTRACT)


solid = part.part
